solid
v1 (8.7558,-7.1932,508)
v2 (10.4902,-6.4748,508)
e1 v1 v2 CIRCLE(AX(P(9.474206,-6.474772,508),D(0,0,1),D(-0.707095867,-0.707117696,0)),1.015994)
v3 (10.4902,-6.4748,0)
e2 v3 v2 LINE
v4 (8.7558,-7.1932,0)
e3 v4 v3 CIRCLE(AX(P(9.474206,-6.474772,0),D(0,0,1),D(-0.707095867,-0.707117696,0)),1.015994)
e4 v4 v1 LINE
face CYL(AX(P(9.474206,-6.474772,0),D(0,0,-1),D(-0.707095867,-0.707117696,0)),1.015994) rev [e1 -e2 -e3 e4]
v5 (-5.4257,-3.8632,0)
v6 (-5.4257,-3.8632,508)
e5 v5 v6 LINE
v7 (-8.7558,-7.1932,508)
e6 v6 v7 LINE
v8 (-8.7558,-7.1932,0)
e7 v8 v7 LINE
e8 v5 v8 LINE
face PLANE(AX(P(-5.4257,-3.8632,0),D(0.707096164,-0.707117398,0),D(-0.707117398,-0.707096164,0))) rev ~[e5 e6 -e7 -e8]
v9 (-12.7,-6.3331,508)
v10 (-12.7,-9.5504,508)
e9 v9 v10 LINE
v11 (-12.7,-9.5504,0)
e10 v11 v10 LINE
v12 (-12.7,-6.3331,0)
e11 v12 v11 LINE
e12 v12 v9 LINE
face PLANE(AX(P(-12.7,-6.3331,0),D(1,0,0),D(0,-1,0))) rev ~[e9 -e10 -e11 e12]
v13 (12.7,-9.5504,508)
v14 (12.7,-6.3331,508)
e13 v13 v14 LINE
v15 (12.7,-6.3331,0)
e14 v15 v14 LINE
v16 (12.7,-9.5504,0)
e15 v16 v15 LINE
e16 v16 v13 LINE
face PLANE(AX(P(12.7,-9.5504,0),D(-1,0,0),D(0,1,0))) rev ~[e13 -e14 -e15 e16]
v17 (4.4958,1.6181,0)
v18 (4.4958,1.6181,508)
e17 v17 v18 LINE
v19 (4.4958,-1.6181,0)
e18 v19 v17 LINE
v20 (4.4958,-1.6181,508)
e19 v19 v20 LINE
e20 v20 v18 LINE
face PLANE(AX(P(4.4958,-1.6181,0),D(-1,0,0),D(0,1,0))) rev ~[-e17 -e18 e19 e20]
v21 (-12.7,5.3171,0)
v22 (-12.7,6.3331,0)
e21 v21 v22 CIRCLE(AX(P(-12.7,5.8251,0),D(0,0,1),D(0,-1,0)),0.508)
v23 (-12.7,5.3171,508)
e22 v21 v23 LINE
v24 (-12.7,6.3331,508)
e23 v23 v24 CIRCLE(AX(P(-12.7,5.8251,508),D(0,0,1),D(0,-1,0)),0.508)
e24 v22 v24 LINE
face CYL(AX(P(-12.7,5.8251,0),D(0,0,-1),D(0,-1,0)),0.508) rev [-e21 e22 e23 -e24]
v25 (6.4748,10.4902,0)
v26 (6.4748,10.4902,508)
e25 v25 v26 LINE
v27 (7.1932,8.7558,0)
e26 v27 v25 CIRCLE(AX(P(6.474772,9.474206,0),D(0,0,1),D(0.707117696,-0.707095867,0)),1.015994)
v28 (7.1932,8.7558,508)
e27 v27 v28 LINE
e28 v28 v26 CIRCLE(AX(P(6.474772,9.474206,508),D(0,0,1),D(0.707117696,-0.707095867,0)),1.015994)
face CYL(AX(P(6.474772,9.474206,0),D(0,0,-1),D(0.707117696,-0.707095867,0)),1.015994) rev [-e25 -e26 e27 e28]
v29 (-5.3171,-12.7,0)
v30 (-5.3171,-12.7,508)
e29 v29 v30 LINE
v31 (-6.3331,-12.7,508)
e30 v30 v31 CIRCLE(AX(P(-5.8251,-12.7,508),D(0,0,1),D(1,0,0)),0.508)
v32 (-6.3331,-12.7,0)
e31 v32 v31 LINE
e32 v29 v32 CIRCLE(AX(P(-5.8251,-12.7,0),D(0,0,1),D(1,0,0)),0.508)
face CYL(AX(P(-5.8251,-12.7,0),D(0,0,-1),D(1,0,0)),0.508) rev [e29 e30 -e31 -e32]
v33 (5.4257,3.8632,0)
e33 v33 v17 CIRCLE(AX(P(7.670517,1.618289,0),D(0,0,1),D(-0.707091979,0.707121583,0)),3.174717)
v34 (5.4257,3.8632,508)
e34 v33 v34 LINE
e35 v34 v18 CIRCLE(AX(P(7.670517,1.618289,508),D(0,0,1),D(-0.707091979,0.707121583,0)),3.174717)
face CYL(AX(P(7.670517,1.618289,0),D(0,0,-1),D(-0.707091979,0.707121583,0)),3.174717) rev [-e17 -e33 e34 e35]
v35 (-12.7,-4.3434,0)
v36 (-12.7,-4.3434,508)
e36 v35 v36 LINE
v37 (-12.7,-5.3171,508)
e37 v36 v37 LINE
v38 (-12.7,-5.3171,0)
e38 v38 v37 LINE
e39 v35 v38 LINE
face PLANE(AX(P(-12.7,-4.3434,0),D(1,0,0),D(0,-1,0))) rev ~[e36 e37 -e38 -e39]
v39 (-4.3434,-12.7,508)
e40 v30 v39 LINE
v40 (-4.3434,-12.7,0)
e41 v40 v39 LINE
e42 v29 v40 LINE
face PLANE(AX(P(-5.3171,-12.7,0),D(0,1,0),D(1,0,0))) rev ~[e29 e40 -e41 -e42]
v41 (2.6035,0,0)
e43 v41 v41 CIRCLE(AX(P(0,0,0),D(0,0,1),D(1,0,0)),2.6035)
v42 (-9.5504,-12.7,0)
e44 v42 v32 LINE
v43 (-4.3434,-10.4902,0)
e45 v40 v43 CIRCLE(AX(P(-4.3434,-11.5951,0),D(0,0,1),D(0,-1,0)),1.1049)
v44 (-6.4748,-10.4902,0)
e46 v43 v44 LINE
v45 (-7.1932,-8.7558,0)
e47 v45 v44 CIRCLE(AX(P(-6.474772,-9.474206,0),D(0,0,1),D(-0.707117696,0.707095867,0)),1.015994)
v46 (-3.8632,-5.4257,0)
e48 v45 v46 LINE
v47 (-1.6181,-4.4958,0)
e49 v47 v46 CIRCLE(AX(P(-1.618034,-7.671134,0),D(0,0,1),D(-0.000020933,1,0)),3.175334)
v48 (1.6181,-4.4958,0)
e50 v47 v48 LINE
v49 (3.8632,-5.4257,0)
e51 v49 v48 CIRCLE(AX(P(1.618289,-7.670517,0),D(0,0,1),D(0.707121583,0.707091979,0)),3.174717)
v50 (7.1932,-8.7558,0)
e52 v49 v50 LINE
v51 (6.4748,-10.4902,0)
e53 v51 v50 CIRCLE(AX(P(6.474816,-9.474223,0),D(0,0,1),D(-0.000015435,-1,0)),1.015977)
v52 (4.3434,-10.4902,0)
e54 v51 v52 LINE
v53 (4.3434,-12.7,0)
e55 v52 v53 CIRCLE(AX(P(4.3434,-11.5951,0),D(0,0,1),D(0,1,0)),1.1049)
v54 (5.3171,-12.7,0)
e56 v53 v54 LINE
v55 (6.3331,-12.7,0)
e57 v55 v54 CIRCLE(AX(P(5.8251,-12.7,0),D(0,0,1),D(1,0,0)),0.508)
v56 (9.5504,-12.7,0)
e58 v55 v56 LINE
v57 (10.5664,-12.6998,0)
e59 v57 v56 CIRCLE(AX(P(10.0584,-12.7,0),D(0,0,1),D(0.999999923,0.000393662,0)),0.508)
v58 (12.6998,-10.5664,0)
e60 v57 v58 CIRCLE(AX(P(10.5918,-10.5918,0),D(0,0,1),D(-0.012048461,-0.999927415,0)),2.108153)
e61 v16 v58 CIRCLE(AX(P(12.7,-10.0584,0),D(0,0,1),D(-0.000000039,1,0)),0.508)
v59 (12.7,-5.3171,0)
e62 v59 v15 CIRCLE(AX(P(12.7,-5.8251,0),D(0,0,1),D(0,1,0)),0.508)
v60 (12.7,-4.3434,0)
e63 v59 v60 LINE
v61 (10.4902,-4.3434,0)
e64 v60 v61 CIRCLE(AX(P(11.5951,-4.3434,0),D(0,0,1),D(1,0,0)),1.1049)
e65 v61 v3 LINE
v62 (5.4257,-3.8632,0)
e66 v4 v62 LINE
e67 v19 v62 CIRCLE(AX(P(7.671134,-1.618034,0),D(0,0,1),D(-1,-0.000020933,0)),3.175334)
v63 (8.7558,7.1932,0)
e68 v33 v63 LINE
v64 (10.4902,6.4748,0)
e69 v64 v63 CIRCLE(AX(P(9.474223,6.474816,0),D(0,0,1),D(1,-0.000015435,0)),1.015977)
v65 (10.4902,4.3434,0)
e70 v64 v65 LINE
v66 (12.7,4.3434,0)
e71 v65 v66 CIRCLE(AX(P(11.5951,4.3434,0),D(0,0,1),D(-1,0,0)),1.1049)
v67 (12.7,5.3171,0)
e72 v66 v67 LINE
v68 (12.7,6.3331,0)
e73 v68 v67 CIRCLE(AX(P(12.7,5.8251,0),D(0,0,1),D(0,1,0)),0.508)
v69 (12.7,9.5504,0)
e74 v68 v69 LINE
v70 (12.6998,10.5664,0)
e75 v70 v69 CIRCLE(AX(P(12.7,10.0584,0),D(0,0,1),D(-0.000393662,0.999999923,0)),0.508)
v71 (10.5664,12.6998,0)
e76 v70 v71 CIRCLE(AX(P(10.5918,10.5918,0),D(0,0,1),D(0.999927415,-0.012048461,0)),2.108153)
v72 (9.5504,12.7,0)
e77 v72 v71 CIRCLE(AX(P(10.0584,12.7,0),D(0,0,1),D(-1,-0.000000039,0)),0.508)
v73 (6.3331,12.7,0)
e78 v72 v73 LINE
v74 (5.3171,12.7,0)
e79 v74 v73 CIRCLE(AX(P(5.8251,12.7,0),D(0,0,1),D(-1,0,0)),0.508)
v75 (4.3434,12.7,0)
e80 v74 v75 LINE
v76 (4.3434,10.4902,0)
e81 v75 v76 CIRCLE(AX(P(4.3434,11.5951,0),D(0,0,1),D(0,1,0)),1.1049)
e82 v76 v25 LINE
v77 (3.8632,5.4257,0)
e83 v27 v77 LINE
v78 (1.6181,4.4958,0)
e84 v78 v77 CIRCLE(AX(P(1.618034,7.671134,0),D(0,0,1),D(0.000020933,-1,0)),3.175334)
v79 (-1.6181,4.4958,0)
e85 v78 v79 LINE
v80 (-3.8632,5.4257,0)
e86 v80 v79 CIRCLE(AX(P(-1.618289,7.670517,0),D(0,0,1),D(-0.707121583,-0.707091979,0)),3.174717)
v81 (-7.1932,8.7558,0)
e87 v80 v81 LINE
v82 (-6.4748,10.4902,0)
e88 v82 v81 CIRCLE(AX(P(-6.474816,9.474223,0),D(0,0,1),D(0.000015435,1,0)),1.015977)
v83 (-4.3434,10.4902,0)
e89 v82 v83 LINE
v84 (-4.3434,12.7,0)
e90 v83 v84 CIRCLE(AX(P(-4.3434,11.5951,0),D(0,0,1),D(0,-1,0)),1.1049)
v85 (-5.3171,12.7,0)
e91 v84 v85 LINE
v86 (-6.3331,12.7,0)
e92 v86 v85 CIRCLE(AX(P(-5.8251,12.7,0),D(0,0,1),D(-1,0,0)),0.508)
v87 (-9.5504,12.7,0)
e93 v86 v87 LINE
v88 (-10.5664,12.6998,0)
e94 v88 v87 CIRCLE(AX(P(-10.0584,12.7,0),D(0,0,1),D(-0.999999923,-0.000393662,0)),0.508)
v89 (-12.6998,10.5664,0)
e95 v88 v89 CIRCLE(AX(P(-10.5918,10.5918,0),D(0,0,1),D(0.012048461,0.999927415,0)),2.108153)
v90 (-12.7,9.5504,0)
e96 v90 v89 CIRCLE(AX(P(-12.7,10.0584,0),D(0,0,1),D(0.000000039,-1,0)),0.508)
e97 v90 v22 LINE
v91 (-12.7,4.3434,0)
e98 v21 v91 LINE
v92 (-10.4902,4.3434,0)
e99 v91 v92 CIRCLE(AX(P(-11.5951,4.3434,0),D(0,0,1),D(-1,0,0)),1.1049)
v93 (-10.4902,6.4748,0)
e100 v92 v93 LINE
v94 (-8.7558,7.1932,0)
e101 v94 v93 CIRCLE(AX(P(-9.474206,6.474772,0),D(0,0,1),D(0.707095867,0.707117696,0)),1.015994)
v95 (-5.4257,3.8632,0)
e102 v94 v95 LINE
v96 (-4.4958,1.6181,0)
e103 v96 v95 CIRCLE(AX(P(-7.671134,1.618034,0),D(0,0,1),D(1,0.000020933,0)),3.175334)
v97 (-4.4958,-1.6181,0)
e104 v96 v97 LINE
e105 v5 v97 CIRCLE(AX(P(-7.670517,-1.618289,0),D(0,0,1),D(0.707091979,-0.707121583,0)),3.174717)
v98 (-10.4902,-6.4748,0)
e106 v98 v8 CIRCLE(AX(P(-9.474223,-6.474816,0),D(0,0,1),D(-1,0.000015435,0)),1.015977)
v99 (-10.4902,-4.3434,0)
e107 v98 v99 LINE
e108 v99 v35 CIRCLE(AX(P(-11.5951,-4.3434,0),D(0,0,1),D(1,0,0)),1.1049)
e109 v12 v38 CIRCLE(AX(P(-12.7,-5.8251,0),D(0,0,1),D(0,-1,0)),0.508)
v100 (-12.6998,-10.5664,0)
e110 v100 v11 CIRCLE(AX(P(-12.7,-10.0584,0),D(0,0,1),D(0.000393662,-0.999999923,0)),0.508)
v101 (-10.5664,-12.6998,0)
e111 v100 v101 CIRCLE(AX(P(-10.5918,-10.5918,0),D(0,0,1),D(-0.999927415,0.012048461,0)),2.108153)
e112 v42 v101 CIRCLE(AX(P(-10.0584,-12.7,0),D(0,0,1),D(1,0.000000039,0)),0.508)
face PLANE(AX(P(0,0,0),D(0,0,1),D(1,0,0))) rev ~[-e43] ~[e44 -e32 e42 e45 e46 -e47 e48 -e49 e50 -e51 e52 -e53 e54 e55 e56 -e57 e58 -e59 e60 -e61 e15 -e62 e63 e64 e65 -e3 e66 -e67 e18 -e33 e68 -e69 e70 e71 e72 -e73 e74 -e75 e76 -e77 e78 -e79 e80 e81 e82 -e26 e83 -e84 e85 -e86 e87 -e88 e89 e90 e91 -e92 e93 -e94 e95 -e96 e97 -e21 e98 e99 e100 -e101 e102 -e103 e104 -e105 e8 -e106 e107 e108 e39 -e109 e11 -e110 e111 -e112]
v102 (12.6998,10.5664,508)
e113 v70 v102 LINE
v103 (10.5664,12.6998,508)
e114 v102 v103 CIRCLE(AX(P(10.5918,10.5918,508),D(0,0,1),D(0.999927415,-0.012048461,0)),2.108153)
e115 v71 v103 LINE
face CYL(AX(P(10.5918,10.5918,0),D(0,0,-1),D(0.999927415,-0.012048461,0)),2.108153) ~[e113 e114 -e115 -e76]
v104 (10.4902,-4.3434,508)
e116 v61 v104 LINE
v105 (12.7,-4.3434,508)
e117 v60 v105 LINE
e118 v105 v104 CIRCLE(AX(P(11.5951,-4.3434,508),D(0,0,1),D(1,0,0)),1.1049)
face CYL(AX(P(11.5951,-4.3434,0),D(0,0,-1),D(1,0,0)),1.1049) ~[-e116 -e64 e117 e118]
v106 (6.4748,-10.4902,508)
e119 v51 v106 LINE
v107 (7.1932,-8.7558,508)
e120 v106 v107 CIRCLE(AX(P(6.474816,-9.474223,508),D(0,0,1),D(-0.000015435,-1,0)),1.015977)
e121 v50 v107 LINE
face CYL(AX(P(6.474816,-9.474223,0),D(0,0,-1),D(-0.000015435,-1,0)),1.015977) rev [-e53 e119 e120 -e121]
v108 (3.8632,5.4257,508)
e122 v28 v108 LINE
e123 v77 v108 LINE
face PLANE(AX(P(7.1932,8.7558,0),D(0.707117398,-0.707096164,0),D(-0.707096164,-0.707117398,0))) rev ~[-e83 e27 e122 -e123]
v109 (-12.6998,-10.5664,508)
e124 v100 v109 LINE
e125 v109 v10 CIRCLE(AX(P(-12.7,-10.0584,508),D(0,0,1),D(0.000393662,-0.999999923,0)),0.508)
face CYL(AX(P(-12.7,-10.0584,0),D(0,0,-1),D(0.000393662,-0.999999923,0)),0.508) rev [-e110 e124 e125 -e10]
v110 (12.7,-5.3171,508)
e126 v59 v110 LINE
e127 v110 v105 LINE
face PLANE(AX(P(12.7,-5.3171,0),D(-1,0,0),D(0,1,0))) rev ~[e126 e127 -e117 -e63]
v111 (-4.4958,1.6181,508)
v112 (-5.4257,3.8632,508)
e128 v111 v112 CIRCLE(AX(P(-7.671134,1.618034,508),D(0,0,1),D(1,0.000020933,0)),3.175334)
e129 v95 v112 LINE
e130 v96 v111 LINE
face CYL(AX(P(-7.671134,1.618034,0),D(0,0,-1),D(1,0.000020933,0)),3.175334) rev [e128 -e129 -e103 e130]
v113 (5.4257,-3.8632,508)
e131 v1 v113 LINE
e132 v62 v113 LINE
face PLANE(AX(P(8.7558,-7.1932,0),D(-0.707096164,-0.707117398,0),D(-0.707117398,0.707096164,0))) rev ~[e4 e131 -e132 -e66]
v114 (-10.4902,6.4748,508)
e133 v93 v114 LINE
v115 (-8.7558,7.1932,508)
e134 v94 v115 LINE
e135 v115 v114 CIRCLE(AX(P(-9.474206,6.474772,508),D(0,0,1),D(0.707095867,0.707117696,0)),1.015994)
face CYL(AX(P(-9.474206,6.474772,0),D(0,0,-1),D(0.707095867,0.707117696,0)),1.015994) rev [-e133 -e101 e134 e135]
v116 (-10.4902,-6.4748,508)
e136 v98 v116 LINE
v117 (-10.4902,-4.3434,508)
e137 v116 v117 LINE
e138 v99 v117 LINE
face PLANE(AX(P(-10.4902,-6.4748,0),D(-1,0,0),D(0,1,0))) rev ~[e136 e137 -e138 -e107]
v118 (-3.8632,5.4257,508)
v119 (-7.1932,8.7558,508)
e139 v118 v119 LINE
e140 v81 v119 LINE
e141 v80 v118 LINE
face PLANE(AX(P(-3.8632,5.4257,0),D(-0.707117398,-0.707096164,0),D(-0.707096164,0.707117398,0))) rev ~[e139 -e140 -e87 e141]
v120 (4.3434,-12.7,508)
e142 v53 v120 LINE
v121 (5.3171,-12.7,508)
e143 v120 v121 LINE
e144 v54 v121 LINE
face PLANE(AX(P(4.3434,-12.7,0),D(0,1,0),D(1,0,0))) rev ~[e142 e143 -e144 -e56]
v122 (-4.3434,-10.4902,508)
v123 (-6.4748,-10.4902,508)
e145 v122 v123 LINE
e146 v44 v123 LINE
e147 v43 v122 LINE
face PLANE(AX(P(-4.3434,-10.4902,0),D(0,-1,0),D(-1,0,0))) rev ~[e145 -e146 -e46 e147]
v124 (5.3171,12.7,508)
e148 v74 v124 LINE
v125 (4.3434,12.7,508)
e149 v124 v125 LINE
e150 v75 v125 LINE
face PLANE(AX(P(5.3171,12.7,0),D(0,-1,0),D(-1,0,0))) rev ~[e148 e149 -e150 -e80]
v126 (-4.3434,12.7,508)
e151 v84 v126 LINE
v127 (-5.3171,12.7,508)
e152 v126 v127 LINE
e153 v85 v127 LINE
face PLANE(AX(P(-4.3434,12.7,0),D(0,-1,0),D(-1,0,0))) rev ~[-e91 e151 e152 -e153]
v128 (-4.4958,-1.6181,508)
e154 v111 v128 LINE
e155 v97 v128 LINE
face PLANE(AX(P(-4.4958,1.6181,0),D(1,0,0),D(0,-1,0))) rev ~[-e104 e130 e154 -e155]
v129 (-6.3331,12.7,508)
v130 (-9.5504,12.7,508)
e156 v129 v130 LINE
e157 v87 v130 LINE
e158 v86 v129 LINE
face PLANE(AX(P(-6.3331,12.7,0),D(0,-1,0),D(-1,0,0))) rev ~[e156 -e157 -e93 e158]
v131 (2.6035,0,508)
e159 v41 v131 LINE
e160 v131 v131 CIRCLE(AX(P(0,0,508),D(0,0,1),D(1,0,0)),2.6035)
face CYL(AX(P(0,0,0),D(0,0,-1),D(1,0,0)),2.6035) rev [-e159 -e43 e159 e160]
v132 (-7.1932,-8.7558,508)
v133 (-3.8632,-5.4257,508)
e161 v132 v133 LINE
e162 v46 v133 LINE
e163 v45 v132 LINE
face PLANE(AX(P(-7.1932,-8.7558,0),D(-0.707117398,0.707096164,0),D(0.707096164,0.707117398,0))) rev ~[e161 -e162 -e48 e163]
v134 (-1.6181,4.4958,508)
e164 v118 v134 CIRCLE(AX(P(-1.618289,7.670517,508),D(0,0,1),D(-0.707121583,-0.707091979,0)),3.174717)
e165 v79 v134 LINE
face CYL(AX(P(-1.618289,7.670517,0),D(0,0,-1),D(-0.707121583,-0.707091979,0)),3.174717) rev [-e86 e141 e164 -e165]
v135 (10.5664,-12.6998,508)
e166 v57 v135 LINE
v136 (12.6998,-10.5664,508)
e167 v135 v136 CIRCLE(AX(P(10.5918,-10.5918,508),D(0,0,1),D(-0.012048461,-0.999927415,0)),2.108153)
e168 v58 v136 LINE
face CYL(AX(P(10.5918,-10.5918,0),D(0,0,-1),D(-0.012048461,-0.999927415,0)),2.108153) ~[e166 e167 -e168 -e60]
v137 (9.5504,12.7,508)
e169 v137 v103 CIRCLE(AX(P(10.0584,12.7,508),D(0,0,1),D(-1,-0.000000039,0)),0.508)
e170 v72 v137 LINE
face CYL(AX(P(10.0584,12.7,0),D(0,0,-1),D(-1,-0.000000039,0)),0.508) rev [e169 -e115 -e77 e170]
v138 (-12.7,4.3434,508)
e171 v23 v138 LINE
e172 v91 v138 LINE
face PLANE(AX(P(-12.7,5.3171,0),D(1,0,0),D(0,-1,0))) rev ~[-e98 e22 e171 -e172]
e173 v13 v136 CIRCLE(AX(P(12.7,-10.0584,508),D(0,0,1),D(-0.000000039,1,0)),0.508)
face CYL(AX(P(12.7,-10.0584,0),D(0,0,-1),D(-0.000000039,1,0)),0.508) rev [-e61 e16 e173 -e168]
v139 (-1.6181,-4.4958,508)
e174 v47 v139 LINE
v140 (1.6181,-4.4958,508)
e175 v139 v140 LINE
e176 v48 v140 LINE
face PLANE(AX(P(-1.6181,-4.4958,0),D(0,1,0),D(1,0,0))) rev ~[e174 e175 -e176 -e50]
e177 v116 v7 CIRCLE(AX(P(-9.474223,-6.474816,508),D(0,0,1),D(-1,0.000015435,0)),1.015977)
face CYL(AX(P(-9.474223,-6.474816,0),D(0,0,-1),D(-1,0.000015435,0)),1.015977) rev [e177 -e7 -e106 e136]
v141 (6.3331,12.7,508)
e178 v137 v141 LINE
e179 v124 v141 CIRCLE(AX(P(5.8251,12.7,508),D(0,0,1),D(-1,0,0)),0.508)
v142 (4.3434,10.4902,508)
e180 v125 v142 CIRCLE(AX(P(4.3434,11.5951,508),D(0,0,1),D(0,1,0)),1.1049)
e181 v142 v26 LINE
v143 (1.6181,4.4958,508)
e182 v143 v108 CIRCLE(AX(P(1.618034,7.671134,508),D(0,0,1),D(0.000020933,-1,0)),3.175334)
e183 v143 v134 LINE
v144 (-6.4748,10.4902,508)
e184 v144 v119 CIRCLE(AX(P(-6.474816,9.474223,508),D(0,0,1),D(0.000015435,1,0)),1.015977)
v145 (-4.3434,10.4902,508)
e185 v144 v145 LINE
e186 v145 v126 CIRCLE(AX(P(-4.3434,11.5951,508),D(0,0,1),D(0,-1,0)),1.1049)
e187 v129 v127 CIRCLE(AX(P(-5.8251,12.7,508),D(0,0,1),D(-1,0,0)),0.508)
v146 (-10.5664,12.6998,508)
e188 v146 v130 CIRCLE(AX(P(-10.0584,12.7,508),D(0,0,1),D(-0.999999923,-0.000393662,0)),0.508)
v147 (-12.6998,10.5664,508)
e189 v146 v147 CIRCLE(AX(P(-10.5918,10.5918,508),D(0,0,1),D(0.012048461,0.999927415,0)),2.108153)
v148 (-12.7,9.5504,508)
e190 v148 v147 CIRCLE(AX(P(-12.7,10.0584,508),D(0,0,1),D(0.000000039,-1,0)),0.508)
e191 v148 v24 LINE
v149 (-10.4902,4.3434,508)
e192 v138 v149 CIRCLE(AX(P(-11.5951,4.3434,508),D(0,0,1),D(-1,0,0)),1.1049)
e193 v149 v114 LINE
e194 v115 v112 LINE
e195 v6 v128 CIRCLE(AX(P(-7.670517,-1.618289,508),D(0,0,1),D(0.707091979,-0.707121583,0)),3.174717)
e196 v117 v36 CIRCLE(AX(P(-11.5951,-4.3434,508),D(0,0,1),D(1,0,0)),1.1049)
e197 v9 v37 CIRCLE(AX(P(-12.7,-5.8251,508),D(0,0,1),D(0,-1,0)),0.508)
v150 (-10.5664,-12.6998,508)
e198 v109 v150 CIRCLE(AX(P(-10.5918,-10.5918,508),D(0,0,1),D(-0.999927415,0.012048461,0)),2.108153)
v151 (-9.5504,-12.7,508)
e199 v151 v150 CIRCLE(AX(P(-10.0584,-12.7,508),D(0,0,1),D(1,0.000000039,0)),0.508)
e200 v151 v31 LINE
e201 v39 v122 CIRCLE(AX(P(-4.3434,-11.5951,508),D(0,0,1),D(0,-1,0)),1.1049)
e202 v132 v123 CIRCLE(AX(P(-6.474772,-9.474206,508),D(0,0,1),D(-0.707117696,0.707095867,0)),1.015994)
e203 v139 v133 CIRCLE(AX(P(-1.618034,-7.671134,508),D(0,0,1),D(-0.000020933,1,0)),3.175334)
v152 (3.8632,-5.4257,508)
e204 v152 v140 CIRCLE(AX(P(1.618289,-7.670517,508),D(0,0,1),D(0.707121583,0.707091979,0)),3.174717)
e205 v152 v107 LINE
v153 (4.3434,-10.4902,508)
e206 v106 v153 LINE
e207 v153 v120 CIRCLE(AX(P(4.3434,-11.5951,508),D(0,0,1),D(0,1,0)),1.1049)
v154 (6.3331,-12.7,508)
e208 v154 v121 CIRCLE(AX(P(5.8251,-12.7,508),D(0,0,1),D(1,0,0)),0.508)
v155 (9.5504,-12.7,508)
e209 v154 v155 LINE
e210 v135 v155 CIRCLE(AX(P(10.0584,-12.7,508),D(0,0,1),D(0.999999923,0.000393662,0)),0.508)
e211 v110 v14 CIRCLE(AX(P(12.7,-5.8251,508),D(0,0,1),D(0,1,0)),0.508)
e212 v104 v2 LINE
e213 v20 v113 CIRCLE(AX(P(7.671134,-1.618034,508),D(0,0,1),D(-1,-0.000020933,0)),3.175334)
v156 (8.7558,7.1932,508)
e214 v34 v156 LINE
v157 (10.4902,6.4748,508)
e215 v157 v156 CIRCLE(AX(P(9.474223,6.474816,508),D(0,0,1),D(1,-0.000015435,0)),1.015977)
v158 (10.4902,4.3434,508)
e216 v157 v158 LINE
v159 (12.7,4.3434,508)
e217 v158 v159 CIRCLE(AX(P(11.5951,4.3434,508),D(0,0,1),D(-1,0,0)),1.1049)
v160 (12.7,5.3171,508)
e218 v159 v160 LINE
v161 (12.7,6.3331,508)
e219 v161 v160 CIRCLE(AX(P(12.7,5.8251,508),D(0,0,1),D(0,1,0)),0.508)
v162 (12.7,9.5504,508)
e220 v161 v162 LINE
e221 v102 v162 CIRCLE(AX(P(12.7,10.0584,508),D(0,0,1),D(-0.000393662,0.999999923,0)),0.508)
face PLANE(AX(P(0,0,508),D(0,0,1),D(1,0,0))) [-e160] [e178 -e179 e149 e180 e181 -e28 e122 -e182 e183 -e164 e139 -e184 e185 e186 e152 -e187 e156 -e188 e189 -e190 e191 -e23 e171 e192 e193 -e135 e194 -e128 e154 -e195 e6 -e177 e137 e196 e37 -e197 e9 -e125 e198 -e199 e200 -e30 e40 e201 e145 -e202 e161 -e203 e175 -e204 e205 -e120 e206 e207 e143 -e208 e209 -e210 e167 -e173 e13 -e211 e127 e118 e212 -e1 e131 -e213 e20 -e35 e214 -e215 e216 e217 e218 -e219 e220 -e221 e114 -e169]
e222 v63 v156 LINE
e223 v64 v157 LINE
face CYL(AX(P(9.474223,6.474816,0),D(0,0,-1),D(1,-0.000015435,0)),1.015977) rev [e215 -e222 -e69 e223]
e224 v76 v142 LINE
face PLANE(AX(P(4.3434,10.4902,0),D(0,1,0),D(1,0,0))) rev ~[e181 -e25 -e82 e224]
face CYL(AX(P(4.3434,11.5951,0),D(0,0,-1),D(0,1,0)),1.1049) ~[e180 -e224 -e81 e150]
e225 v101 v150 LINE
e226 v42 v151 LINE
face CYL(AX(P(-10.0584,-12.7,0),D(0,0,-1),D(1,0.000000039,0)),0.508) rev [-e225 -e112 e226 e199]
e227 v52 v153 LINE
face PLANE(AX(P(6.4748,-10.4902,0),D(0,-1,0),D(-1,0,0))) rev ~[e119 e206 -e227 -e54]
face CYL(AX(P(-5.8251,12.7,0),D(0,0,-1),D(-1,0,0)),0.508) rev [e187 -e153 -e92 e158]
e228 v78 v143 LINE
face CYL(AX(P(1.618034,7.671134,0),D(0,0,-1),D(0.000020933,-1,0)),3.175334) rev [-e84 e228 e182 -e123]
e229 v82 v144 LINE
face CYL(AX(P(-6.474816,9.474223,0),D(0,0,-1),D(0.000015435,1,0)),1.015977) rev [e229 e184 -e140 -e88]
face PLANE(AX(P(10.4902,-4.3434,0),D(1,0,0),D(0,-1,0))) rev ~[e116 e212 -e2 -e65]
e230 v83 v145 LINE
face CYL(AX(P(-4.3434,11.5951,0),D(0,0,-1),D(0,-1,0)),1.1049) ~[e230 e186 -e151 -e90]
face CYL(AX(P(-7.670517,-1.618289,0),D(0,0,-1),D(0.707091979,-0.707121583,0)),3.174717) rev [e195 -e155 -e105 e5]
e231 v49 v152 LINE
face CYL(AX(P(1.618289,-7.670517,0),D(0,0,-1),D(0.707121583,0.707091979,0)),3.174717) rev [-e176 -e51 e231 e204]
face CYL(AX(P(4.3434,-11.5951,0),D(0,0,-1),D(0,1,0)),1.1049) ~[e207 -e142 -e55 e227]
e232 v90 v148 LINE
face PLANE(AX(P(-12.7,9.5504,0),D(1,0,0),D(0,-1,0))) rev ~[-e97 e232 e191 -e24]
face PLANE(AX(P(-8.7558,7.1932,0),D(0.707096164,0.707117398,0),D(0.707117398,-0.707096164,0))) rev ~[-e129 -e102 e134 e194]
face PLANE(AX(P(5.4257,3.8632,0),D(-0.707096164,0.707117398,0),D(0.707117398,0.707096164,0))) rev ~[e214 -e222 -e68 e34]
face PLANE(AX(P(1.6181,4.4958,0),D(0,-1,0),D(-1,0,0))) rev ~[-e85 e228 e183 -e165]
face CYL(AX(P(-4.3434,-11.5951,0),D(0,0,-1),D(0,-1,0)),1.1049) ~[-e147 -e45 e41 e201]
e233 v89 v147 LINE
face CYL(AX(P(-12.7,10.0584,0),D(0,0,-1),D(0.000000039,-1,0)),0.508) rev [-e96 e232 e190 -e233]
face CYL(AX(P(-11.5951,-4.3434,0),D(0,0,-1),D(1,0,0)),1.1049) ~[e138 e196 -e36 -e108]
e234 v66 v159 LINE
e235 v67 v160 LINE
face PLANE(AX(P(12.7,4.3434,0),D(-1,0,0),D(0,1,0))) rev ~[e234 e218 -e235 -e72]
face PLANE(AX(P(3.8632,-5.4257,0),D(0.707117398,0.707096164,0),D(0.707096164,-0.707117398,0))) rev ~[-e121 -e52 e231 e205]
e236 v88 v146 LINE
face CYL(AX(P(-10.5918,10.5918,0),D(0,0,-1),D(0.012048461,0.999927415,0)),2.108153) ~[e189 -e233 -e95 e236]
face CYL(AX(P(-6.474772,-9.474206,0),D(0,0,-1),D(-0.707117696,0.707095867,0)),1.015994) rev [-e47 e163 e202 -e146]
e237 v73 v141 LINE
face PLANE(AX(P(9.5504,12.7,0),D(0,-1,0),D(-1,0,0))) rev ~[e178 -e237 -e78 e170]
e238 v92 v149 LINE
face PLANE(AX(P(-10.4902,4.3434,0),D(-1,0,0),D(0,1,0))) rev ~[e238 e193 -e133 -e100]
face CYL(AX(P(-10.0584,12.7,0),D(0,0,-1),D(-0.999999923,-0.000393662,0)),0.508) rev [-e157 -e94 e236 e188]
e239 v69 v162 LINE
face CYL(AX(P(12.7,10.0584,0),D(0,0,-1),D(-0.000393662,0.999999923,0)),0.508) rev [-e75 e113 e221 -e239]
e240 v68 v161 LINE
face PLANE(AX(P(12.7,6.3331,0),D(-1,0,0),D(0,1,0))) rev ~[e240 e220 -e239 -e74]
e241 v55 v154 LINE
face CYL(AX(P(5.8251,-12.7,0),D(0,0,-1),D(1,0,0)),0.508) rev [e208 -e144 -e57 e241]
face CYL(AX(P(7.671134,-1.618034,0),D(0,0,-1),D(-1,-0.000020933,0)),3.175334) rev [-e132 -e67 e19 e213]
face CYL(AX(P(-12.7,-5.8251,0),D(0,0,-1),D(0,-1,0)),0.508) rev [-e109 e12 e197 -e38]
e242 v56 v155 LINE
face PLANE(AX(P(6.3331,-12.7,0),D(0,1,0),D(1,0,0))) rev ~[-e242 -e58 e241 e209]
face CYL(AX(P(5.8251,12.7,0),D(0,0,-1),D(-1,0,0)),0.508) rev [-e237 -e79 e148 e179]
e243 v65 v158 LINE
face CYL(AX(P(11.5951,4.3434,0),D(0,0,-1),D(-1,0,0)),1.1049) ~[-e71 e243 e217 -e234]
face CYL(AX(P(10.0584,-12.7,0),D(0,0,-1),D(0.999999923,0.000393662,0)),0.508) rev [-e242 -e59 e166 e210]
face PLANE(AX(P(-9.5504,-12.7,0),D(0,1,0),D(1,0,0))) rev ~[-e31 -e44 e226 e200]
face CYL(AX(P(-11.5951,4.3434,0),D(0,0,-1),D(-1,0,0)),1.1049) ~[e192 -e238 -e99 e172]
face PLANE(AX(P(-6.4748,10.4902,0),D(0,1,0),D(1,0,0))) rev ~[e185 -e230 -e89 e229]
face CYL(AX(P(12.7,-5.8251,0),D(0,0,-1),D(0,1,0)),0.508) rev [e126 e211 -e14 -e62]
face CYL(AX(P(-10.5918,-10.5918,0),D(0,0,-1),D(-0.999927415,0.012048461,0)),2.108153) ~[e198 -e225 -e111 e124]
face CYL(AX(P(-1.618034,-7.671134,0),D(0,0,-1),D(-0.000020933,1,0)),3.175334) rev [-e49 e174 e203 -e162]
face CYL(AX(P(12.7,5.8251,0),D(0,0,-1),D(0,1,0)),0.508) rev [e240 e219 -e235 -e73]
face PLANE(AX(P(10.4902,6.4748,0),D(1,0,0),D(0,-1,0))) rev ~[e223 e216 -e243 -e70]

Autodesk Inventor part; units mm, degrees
ref_plane "YZ Plane" through (0, 0, 0) normal (1, 0, 0) x (0, 1, 0)
ref_plane "XZ Plane" through (0, 0, 0) normal (0, 1, 0) x (-1, 0, 0)
ref_plane "XY Plane" through (0, 0, 0) normal (0, 0, 1) x (1, 0, 0)
sketch "Sketch1" plane through (0, 0, 0) normal (0, 0, 1) x (1, 0, 0)
  arc A0 (-12.6998, -10.5664) -> (-10.5664, -12.6998) centre (-10.5918, -10.5918) ccw
  arc A1 (-9.5504, -12.7) -> (-10.5664, -12.6998) centre (-10.0584, -12.7) ccw
  line L0 (-9.5504, -12.7) -> (-6.3331, -12.7)
  arc A2 (-5.3171, -12.7) -> (-6.3331, -12.7) centre (-5.8251, -12.7) ccw
  line L1 (-5.3171, -12.7) -> (-4.3434, -12.7)
  arc A3 (-4.3434, -12.7) -> (-4.3434, -10.4902) centre (-4.3434, -11.5951) ccw
  line L2 (-4.3434, -10.4902) -> (-6.4748, -10.4902)
  arc A4 (-7.1932, -8.7558) -> (-6.4748, -10.4902) centre (-6.4748, -9.4742) ccw
  line L3 (-7.1932, -8.7558) -> (-3.8632, -5.4257)
  arc A5 (-1.6181, -4.4958) -> (-3.8632, -5.4257) centre (-1.6181, -7.6708) ccw
  line L4 (-1.6181, -4.4958) -> (1.6181, -4.4958)
  arc A6 (3.8632, -5.4257) -> (1.6181, -4.4958) centre (1.6181, -7.6708) ccw
  line L5 (3.8632, -5.4257) -> (7.1932, -8.7558)
  arc A7 (6.4748, -10.4902) -> (7.1932, -8.7558) centre (6.4748, -9.4742) ccw
  line L6 (6.4748, -10.4902) -> (4.3434, -10.4902)
  arc A8 (4.3434, -10.4902) -> (4.3434, -12.7) centre (4.3434, -11.5951) ccw
  line L7 (4.3434, -12.7) -> (5.3171, -12.7)
  arc A9 (6.3331, -12.7) -> (5.3171, -12.7) centre (5.8251, -12.7) ccw
  line L8 (6.3331, -12.7) -> (9.5504, -12.7)
  arc A10 (10.5664, -12.6998) -> (9.5504, -12.7) centre (10.0584, -12.7) ccw
  arc A11 (10.5664, -12.6998) -> (12.6998, -10.5664) centre (10.5918, -10.5918) ccw
  arc A12 (12.7, -9.5504) -> (12.6998, -10.5664) centre (12.7, -10.0584) ccw
  line L9 (12.7, -9.5504) -> (12.7, -6.3331)
  arc A13 (12.7, -5.3171) -> (12.7, -6.3331) centre (12.7, -5.8251) ccw
  line L10 (12.7, -5.3171) -> (12.7, -4.3434)
  arc A14 (12.7, -4.3434) -> (10.4902, -4.3434) centre (11.5951, -4.3434) ccw
  line L11 (10.4902, -4.3434) -> (10.4902, -6.4748)
  arc A15 (8.7558, -7.1932) -> (10.4902, -6.4748) centre (9.4742, -6.4748) ccw
  line L12 (8.7558, -7.1932) -> (5.4257, -3.8632)
  arc A16 (4.4958, -1.6181) -> (5.4257, -3.8632) centre (7.6708, -1.6181) ccw
  line L13 (4.4958, -1.6181) -> (4.4958, 1.6181)
  arc A17 (5.4257, 3.8632) -> (4.4958, 1.6181) centre (7.6708, 1.6181) ccw
  line L14 (5.4257, 3.8632) -> (8.7558, 7.1932)
  arc A18 (10.4902, 6.4748) -> (8.7558, 7.1932) centre (9.4742, 6.4748) ccw
  line L15 (10.4902, 6.4748) -> (10.4902, 4.3434)
  arc A19 (10.4902, 4.3434) -> (12.7, 4.3434) centre (11.5951, 4.3434) ccw
  line L16 (12.7, 4.3434) -> (12.7, 5.3171)
  arc A20 (12.7, 6.3331) -> (12.7, 5.3171) centre (12.7, 5.8251) ccw
  line L17 (12.7, 6.3331) -> (12.7, 9.5504)
  arc A21 (12.6998, 10.5664) -> (12.7, 9.5504) centre (12.7, 10.0584) ccw
  arc A22 (12.6998, 10.5664) -> (10.5664, 12.6998) centre (10.5918, 10.5918) ccw
  arc A23 (9.5504, 12.7) -> (10.5664, 12.6998) centre (10.0584, 12.7) ccw
  line L18 (9.5504, 12.7) -> (6.3331, 12.7)
  arc A24 (5.3171, 12.7) -> (6.3331, 12.7) centre (5.8251, 12.7) ccw
  line L19 (5.3171, 12.7) -> (4.3434, 12.7)
  arc A25 (4.3434, 12.7) -> (4.3434, 10.4902) centre (4.3434, 11.5951) ccw
  line L20 (4.3434, 10.4902) -> (6.4748, 10.4902)
  arc A26 (7.1932, 8.7558) -> (6.4748, 10.4902) centre (6.4748, 9.4742) ccw
  line L21 (7.1932, 8.7558) -> (3.8632, 5.4257)
  arc A27 (1.6181, 4.4958) -> (3.8632, 5.4257) centre (1.6181, 7.6708) ccw
  line L22 (1.6181, 4.4958) -> (-1.6181, 4.4958)
  arc A28 (-3.8632, 5.4257) -> (-1.6181, 4.4958) centre (-1.6181, 7.6708) ccw
  line L23 (-3.8632, 5.4257) -> (-7.1932, 8.7558)
  arc A29 (-6.4748, 10.4902) -> (-7.1932, 8.7558) centre (-6.4748, 9.4742) ccw
  line L24 (-6.4748, 10.4902) -> (-4.3434, 10.4902)
  arc A30 (-4.3434, 10.4902) -> (-4.3434, 12.7) centre (-4.3434, 11.5951) ccw
  line L25 (-4.3434, 12.7) -> (-5.3171, 12.7)
  arc A31 (-6.3331, 12.7) -> (-5.3171, 12.7) centre (-5.8251, 12.7) ccw
  line L26 (-6.3331, 12.7) -> (-9.5504, 12.7)
  arc A32 (-10.5664, 12.6998) -> (-9.5504, 12.7) centre (-10.0584, 12.7) ccw
  arc A33 (-10.5664, 12.6998) -> (-12.6998, 10.5664) centre (-10.5918, 10.5918) ccw
  arc A34 (-12.7, 9.5504) -> (-12.6998, 10.5664) centre (-12.7, 10.0584) ccw
  line L27 (-12.7, 9.5504) -> (-12.7, 6.3331)
  arc A35 (-12.7, 5.3171) -> (-12.7, 6.3331) centre (-12.7, 5.8251) ccw
  line L28 (-12.7, 5.3171) -> (-12.7, 4.3434)
  arc A36 (-12.7, 4.3434) -> (-10.4902, 4.3434) centre (-11.5951, 4.3434) ccw
  line L29 (-10.4902, 4.3434) -> (-10.4902, 6.4748)
  arc A37 (-8.7558, 7.1932) -> (-10.4902, 6.4748) centre (-9.4742, 6.4748) ccw
  line L30 (-8.7558, 7.1932) -> (-5.4257, 3.8632)
  arc A38 (-4.4958, 1.6181) -> (-5.4257, 3.8632) centre (-7.6708, 1.6181) ccw
  line L31 (-4.4958, 1.6181) -> (-4.4958, -1.6181)
  arc A39 (-5.4257, -3.8632) -> (-4.4958, -1.6181) centre (-7.6708, -1.6181) ccw
  line L32 (-5.4257, -3.8632) -> (-8.7558, -7.1932)
  arc A40 (-10.4902, -6.4748) -> (-8.7558, -7.1932) centre (-9.4742, -6.4748) ccw
  line L33 (-10.4902, -6.4748) -> (-10.4902, -4.3434)
  arc A41 (-10.4902, -4.3434) -> (-12.7, -4.3434) centre (-11.5951, -4.3434) ccw
  line L34 (-12.7, -4.3434) -> (-12.7, -5.3171)
  arc A42 (-12.7, -6.3331) -> (-12.7, -5.3171) centre (-12.7, -5.8251) ccw
  line L35 (-12.7, -6.3331) -> (-12.7, -9.5504)
  arc A43 (-12.6998, -10.5664) -> (-12.7, -9.5504) centre (-12.7, -10.0584) ccw
  circle A44 centre (0, 0) radius 2.6035
extrude "Extrusion1" add sketch "Sketch1" along normal blind 508
properties part number "1010-20''-CL"
